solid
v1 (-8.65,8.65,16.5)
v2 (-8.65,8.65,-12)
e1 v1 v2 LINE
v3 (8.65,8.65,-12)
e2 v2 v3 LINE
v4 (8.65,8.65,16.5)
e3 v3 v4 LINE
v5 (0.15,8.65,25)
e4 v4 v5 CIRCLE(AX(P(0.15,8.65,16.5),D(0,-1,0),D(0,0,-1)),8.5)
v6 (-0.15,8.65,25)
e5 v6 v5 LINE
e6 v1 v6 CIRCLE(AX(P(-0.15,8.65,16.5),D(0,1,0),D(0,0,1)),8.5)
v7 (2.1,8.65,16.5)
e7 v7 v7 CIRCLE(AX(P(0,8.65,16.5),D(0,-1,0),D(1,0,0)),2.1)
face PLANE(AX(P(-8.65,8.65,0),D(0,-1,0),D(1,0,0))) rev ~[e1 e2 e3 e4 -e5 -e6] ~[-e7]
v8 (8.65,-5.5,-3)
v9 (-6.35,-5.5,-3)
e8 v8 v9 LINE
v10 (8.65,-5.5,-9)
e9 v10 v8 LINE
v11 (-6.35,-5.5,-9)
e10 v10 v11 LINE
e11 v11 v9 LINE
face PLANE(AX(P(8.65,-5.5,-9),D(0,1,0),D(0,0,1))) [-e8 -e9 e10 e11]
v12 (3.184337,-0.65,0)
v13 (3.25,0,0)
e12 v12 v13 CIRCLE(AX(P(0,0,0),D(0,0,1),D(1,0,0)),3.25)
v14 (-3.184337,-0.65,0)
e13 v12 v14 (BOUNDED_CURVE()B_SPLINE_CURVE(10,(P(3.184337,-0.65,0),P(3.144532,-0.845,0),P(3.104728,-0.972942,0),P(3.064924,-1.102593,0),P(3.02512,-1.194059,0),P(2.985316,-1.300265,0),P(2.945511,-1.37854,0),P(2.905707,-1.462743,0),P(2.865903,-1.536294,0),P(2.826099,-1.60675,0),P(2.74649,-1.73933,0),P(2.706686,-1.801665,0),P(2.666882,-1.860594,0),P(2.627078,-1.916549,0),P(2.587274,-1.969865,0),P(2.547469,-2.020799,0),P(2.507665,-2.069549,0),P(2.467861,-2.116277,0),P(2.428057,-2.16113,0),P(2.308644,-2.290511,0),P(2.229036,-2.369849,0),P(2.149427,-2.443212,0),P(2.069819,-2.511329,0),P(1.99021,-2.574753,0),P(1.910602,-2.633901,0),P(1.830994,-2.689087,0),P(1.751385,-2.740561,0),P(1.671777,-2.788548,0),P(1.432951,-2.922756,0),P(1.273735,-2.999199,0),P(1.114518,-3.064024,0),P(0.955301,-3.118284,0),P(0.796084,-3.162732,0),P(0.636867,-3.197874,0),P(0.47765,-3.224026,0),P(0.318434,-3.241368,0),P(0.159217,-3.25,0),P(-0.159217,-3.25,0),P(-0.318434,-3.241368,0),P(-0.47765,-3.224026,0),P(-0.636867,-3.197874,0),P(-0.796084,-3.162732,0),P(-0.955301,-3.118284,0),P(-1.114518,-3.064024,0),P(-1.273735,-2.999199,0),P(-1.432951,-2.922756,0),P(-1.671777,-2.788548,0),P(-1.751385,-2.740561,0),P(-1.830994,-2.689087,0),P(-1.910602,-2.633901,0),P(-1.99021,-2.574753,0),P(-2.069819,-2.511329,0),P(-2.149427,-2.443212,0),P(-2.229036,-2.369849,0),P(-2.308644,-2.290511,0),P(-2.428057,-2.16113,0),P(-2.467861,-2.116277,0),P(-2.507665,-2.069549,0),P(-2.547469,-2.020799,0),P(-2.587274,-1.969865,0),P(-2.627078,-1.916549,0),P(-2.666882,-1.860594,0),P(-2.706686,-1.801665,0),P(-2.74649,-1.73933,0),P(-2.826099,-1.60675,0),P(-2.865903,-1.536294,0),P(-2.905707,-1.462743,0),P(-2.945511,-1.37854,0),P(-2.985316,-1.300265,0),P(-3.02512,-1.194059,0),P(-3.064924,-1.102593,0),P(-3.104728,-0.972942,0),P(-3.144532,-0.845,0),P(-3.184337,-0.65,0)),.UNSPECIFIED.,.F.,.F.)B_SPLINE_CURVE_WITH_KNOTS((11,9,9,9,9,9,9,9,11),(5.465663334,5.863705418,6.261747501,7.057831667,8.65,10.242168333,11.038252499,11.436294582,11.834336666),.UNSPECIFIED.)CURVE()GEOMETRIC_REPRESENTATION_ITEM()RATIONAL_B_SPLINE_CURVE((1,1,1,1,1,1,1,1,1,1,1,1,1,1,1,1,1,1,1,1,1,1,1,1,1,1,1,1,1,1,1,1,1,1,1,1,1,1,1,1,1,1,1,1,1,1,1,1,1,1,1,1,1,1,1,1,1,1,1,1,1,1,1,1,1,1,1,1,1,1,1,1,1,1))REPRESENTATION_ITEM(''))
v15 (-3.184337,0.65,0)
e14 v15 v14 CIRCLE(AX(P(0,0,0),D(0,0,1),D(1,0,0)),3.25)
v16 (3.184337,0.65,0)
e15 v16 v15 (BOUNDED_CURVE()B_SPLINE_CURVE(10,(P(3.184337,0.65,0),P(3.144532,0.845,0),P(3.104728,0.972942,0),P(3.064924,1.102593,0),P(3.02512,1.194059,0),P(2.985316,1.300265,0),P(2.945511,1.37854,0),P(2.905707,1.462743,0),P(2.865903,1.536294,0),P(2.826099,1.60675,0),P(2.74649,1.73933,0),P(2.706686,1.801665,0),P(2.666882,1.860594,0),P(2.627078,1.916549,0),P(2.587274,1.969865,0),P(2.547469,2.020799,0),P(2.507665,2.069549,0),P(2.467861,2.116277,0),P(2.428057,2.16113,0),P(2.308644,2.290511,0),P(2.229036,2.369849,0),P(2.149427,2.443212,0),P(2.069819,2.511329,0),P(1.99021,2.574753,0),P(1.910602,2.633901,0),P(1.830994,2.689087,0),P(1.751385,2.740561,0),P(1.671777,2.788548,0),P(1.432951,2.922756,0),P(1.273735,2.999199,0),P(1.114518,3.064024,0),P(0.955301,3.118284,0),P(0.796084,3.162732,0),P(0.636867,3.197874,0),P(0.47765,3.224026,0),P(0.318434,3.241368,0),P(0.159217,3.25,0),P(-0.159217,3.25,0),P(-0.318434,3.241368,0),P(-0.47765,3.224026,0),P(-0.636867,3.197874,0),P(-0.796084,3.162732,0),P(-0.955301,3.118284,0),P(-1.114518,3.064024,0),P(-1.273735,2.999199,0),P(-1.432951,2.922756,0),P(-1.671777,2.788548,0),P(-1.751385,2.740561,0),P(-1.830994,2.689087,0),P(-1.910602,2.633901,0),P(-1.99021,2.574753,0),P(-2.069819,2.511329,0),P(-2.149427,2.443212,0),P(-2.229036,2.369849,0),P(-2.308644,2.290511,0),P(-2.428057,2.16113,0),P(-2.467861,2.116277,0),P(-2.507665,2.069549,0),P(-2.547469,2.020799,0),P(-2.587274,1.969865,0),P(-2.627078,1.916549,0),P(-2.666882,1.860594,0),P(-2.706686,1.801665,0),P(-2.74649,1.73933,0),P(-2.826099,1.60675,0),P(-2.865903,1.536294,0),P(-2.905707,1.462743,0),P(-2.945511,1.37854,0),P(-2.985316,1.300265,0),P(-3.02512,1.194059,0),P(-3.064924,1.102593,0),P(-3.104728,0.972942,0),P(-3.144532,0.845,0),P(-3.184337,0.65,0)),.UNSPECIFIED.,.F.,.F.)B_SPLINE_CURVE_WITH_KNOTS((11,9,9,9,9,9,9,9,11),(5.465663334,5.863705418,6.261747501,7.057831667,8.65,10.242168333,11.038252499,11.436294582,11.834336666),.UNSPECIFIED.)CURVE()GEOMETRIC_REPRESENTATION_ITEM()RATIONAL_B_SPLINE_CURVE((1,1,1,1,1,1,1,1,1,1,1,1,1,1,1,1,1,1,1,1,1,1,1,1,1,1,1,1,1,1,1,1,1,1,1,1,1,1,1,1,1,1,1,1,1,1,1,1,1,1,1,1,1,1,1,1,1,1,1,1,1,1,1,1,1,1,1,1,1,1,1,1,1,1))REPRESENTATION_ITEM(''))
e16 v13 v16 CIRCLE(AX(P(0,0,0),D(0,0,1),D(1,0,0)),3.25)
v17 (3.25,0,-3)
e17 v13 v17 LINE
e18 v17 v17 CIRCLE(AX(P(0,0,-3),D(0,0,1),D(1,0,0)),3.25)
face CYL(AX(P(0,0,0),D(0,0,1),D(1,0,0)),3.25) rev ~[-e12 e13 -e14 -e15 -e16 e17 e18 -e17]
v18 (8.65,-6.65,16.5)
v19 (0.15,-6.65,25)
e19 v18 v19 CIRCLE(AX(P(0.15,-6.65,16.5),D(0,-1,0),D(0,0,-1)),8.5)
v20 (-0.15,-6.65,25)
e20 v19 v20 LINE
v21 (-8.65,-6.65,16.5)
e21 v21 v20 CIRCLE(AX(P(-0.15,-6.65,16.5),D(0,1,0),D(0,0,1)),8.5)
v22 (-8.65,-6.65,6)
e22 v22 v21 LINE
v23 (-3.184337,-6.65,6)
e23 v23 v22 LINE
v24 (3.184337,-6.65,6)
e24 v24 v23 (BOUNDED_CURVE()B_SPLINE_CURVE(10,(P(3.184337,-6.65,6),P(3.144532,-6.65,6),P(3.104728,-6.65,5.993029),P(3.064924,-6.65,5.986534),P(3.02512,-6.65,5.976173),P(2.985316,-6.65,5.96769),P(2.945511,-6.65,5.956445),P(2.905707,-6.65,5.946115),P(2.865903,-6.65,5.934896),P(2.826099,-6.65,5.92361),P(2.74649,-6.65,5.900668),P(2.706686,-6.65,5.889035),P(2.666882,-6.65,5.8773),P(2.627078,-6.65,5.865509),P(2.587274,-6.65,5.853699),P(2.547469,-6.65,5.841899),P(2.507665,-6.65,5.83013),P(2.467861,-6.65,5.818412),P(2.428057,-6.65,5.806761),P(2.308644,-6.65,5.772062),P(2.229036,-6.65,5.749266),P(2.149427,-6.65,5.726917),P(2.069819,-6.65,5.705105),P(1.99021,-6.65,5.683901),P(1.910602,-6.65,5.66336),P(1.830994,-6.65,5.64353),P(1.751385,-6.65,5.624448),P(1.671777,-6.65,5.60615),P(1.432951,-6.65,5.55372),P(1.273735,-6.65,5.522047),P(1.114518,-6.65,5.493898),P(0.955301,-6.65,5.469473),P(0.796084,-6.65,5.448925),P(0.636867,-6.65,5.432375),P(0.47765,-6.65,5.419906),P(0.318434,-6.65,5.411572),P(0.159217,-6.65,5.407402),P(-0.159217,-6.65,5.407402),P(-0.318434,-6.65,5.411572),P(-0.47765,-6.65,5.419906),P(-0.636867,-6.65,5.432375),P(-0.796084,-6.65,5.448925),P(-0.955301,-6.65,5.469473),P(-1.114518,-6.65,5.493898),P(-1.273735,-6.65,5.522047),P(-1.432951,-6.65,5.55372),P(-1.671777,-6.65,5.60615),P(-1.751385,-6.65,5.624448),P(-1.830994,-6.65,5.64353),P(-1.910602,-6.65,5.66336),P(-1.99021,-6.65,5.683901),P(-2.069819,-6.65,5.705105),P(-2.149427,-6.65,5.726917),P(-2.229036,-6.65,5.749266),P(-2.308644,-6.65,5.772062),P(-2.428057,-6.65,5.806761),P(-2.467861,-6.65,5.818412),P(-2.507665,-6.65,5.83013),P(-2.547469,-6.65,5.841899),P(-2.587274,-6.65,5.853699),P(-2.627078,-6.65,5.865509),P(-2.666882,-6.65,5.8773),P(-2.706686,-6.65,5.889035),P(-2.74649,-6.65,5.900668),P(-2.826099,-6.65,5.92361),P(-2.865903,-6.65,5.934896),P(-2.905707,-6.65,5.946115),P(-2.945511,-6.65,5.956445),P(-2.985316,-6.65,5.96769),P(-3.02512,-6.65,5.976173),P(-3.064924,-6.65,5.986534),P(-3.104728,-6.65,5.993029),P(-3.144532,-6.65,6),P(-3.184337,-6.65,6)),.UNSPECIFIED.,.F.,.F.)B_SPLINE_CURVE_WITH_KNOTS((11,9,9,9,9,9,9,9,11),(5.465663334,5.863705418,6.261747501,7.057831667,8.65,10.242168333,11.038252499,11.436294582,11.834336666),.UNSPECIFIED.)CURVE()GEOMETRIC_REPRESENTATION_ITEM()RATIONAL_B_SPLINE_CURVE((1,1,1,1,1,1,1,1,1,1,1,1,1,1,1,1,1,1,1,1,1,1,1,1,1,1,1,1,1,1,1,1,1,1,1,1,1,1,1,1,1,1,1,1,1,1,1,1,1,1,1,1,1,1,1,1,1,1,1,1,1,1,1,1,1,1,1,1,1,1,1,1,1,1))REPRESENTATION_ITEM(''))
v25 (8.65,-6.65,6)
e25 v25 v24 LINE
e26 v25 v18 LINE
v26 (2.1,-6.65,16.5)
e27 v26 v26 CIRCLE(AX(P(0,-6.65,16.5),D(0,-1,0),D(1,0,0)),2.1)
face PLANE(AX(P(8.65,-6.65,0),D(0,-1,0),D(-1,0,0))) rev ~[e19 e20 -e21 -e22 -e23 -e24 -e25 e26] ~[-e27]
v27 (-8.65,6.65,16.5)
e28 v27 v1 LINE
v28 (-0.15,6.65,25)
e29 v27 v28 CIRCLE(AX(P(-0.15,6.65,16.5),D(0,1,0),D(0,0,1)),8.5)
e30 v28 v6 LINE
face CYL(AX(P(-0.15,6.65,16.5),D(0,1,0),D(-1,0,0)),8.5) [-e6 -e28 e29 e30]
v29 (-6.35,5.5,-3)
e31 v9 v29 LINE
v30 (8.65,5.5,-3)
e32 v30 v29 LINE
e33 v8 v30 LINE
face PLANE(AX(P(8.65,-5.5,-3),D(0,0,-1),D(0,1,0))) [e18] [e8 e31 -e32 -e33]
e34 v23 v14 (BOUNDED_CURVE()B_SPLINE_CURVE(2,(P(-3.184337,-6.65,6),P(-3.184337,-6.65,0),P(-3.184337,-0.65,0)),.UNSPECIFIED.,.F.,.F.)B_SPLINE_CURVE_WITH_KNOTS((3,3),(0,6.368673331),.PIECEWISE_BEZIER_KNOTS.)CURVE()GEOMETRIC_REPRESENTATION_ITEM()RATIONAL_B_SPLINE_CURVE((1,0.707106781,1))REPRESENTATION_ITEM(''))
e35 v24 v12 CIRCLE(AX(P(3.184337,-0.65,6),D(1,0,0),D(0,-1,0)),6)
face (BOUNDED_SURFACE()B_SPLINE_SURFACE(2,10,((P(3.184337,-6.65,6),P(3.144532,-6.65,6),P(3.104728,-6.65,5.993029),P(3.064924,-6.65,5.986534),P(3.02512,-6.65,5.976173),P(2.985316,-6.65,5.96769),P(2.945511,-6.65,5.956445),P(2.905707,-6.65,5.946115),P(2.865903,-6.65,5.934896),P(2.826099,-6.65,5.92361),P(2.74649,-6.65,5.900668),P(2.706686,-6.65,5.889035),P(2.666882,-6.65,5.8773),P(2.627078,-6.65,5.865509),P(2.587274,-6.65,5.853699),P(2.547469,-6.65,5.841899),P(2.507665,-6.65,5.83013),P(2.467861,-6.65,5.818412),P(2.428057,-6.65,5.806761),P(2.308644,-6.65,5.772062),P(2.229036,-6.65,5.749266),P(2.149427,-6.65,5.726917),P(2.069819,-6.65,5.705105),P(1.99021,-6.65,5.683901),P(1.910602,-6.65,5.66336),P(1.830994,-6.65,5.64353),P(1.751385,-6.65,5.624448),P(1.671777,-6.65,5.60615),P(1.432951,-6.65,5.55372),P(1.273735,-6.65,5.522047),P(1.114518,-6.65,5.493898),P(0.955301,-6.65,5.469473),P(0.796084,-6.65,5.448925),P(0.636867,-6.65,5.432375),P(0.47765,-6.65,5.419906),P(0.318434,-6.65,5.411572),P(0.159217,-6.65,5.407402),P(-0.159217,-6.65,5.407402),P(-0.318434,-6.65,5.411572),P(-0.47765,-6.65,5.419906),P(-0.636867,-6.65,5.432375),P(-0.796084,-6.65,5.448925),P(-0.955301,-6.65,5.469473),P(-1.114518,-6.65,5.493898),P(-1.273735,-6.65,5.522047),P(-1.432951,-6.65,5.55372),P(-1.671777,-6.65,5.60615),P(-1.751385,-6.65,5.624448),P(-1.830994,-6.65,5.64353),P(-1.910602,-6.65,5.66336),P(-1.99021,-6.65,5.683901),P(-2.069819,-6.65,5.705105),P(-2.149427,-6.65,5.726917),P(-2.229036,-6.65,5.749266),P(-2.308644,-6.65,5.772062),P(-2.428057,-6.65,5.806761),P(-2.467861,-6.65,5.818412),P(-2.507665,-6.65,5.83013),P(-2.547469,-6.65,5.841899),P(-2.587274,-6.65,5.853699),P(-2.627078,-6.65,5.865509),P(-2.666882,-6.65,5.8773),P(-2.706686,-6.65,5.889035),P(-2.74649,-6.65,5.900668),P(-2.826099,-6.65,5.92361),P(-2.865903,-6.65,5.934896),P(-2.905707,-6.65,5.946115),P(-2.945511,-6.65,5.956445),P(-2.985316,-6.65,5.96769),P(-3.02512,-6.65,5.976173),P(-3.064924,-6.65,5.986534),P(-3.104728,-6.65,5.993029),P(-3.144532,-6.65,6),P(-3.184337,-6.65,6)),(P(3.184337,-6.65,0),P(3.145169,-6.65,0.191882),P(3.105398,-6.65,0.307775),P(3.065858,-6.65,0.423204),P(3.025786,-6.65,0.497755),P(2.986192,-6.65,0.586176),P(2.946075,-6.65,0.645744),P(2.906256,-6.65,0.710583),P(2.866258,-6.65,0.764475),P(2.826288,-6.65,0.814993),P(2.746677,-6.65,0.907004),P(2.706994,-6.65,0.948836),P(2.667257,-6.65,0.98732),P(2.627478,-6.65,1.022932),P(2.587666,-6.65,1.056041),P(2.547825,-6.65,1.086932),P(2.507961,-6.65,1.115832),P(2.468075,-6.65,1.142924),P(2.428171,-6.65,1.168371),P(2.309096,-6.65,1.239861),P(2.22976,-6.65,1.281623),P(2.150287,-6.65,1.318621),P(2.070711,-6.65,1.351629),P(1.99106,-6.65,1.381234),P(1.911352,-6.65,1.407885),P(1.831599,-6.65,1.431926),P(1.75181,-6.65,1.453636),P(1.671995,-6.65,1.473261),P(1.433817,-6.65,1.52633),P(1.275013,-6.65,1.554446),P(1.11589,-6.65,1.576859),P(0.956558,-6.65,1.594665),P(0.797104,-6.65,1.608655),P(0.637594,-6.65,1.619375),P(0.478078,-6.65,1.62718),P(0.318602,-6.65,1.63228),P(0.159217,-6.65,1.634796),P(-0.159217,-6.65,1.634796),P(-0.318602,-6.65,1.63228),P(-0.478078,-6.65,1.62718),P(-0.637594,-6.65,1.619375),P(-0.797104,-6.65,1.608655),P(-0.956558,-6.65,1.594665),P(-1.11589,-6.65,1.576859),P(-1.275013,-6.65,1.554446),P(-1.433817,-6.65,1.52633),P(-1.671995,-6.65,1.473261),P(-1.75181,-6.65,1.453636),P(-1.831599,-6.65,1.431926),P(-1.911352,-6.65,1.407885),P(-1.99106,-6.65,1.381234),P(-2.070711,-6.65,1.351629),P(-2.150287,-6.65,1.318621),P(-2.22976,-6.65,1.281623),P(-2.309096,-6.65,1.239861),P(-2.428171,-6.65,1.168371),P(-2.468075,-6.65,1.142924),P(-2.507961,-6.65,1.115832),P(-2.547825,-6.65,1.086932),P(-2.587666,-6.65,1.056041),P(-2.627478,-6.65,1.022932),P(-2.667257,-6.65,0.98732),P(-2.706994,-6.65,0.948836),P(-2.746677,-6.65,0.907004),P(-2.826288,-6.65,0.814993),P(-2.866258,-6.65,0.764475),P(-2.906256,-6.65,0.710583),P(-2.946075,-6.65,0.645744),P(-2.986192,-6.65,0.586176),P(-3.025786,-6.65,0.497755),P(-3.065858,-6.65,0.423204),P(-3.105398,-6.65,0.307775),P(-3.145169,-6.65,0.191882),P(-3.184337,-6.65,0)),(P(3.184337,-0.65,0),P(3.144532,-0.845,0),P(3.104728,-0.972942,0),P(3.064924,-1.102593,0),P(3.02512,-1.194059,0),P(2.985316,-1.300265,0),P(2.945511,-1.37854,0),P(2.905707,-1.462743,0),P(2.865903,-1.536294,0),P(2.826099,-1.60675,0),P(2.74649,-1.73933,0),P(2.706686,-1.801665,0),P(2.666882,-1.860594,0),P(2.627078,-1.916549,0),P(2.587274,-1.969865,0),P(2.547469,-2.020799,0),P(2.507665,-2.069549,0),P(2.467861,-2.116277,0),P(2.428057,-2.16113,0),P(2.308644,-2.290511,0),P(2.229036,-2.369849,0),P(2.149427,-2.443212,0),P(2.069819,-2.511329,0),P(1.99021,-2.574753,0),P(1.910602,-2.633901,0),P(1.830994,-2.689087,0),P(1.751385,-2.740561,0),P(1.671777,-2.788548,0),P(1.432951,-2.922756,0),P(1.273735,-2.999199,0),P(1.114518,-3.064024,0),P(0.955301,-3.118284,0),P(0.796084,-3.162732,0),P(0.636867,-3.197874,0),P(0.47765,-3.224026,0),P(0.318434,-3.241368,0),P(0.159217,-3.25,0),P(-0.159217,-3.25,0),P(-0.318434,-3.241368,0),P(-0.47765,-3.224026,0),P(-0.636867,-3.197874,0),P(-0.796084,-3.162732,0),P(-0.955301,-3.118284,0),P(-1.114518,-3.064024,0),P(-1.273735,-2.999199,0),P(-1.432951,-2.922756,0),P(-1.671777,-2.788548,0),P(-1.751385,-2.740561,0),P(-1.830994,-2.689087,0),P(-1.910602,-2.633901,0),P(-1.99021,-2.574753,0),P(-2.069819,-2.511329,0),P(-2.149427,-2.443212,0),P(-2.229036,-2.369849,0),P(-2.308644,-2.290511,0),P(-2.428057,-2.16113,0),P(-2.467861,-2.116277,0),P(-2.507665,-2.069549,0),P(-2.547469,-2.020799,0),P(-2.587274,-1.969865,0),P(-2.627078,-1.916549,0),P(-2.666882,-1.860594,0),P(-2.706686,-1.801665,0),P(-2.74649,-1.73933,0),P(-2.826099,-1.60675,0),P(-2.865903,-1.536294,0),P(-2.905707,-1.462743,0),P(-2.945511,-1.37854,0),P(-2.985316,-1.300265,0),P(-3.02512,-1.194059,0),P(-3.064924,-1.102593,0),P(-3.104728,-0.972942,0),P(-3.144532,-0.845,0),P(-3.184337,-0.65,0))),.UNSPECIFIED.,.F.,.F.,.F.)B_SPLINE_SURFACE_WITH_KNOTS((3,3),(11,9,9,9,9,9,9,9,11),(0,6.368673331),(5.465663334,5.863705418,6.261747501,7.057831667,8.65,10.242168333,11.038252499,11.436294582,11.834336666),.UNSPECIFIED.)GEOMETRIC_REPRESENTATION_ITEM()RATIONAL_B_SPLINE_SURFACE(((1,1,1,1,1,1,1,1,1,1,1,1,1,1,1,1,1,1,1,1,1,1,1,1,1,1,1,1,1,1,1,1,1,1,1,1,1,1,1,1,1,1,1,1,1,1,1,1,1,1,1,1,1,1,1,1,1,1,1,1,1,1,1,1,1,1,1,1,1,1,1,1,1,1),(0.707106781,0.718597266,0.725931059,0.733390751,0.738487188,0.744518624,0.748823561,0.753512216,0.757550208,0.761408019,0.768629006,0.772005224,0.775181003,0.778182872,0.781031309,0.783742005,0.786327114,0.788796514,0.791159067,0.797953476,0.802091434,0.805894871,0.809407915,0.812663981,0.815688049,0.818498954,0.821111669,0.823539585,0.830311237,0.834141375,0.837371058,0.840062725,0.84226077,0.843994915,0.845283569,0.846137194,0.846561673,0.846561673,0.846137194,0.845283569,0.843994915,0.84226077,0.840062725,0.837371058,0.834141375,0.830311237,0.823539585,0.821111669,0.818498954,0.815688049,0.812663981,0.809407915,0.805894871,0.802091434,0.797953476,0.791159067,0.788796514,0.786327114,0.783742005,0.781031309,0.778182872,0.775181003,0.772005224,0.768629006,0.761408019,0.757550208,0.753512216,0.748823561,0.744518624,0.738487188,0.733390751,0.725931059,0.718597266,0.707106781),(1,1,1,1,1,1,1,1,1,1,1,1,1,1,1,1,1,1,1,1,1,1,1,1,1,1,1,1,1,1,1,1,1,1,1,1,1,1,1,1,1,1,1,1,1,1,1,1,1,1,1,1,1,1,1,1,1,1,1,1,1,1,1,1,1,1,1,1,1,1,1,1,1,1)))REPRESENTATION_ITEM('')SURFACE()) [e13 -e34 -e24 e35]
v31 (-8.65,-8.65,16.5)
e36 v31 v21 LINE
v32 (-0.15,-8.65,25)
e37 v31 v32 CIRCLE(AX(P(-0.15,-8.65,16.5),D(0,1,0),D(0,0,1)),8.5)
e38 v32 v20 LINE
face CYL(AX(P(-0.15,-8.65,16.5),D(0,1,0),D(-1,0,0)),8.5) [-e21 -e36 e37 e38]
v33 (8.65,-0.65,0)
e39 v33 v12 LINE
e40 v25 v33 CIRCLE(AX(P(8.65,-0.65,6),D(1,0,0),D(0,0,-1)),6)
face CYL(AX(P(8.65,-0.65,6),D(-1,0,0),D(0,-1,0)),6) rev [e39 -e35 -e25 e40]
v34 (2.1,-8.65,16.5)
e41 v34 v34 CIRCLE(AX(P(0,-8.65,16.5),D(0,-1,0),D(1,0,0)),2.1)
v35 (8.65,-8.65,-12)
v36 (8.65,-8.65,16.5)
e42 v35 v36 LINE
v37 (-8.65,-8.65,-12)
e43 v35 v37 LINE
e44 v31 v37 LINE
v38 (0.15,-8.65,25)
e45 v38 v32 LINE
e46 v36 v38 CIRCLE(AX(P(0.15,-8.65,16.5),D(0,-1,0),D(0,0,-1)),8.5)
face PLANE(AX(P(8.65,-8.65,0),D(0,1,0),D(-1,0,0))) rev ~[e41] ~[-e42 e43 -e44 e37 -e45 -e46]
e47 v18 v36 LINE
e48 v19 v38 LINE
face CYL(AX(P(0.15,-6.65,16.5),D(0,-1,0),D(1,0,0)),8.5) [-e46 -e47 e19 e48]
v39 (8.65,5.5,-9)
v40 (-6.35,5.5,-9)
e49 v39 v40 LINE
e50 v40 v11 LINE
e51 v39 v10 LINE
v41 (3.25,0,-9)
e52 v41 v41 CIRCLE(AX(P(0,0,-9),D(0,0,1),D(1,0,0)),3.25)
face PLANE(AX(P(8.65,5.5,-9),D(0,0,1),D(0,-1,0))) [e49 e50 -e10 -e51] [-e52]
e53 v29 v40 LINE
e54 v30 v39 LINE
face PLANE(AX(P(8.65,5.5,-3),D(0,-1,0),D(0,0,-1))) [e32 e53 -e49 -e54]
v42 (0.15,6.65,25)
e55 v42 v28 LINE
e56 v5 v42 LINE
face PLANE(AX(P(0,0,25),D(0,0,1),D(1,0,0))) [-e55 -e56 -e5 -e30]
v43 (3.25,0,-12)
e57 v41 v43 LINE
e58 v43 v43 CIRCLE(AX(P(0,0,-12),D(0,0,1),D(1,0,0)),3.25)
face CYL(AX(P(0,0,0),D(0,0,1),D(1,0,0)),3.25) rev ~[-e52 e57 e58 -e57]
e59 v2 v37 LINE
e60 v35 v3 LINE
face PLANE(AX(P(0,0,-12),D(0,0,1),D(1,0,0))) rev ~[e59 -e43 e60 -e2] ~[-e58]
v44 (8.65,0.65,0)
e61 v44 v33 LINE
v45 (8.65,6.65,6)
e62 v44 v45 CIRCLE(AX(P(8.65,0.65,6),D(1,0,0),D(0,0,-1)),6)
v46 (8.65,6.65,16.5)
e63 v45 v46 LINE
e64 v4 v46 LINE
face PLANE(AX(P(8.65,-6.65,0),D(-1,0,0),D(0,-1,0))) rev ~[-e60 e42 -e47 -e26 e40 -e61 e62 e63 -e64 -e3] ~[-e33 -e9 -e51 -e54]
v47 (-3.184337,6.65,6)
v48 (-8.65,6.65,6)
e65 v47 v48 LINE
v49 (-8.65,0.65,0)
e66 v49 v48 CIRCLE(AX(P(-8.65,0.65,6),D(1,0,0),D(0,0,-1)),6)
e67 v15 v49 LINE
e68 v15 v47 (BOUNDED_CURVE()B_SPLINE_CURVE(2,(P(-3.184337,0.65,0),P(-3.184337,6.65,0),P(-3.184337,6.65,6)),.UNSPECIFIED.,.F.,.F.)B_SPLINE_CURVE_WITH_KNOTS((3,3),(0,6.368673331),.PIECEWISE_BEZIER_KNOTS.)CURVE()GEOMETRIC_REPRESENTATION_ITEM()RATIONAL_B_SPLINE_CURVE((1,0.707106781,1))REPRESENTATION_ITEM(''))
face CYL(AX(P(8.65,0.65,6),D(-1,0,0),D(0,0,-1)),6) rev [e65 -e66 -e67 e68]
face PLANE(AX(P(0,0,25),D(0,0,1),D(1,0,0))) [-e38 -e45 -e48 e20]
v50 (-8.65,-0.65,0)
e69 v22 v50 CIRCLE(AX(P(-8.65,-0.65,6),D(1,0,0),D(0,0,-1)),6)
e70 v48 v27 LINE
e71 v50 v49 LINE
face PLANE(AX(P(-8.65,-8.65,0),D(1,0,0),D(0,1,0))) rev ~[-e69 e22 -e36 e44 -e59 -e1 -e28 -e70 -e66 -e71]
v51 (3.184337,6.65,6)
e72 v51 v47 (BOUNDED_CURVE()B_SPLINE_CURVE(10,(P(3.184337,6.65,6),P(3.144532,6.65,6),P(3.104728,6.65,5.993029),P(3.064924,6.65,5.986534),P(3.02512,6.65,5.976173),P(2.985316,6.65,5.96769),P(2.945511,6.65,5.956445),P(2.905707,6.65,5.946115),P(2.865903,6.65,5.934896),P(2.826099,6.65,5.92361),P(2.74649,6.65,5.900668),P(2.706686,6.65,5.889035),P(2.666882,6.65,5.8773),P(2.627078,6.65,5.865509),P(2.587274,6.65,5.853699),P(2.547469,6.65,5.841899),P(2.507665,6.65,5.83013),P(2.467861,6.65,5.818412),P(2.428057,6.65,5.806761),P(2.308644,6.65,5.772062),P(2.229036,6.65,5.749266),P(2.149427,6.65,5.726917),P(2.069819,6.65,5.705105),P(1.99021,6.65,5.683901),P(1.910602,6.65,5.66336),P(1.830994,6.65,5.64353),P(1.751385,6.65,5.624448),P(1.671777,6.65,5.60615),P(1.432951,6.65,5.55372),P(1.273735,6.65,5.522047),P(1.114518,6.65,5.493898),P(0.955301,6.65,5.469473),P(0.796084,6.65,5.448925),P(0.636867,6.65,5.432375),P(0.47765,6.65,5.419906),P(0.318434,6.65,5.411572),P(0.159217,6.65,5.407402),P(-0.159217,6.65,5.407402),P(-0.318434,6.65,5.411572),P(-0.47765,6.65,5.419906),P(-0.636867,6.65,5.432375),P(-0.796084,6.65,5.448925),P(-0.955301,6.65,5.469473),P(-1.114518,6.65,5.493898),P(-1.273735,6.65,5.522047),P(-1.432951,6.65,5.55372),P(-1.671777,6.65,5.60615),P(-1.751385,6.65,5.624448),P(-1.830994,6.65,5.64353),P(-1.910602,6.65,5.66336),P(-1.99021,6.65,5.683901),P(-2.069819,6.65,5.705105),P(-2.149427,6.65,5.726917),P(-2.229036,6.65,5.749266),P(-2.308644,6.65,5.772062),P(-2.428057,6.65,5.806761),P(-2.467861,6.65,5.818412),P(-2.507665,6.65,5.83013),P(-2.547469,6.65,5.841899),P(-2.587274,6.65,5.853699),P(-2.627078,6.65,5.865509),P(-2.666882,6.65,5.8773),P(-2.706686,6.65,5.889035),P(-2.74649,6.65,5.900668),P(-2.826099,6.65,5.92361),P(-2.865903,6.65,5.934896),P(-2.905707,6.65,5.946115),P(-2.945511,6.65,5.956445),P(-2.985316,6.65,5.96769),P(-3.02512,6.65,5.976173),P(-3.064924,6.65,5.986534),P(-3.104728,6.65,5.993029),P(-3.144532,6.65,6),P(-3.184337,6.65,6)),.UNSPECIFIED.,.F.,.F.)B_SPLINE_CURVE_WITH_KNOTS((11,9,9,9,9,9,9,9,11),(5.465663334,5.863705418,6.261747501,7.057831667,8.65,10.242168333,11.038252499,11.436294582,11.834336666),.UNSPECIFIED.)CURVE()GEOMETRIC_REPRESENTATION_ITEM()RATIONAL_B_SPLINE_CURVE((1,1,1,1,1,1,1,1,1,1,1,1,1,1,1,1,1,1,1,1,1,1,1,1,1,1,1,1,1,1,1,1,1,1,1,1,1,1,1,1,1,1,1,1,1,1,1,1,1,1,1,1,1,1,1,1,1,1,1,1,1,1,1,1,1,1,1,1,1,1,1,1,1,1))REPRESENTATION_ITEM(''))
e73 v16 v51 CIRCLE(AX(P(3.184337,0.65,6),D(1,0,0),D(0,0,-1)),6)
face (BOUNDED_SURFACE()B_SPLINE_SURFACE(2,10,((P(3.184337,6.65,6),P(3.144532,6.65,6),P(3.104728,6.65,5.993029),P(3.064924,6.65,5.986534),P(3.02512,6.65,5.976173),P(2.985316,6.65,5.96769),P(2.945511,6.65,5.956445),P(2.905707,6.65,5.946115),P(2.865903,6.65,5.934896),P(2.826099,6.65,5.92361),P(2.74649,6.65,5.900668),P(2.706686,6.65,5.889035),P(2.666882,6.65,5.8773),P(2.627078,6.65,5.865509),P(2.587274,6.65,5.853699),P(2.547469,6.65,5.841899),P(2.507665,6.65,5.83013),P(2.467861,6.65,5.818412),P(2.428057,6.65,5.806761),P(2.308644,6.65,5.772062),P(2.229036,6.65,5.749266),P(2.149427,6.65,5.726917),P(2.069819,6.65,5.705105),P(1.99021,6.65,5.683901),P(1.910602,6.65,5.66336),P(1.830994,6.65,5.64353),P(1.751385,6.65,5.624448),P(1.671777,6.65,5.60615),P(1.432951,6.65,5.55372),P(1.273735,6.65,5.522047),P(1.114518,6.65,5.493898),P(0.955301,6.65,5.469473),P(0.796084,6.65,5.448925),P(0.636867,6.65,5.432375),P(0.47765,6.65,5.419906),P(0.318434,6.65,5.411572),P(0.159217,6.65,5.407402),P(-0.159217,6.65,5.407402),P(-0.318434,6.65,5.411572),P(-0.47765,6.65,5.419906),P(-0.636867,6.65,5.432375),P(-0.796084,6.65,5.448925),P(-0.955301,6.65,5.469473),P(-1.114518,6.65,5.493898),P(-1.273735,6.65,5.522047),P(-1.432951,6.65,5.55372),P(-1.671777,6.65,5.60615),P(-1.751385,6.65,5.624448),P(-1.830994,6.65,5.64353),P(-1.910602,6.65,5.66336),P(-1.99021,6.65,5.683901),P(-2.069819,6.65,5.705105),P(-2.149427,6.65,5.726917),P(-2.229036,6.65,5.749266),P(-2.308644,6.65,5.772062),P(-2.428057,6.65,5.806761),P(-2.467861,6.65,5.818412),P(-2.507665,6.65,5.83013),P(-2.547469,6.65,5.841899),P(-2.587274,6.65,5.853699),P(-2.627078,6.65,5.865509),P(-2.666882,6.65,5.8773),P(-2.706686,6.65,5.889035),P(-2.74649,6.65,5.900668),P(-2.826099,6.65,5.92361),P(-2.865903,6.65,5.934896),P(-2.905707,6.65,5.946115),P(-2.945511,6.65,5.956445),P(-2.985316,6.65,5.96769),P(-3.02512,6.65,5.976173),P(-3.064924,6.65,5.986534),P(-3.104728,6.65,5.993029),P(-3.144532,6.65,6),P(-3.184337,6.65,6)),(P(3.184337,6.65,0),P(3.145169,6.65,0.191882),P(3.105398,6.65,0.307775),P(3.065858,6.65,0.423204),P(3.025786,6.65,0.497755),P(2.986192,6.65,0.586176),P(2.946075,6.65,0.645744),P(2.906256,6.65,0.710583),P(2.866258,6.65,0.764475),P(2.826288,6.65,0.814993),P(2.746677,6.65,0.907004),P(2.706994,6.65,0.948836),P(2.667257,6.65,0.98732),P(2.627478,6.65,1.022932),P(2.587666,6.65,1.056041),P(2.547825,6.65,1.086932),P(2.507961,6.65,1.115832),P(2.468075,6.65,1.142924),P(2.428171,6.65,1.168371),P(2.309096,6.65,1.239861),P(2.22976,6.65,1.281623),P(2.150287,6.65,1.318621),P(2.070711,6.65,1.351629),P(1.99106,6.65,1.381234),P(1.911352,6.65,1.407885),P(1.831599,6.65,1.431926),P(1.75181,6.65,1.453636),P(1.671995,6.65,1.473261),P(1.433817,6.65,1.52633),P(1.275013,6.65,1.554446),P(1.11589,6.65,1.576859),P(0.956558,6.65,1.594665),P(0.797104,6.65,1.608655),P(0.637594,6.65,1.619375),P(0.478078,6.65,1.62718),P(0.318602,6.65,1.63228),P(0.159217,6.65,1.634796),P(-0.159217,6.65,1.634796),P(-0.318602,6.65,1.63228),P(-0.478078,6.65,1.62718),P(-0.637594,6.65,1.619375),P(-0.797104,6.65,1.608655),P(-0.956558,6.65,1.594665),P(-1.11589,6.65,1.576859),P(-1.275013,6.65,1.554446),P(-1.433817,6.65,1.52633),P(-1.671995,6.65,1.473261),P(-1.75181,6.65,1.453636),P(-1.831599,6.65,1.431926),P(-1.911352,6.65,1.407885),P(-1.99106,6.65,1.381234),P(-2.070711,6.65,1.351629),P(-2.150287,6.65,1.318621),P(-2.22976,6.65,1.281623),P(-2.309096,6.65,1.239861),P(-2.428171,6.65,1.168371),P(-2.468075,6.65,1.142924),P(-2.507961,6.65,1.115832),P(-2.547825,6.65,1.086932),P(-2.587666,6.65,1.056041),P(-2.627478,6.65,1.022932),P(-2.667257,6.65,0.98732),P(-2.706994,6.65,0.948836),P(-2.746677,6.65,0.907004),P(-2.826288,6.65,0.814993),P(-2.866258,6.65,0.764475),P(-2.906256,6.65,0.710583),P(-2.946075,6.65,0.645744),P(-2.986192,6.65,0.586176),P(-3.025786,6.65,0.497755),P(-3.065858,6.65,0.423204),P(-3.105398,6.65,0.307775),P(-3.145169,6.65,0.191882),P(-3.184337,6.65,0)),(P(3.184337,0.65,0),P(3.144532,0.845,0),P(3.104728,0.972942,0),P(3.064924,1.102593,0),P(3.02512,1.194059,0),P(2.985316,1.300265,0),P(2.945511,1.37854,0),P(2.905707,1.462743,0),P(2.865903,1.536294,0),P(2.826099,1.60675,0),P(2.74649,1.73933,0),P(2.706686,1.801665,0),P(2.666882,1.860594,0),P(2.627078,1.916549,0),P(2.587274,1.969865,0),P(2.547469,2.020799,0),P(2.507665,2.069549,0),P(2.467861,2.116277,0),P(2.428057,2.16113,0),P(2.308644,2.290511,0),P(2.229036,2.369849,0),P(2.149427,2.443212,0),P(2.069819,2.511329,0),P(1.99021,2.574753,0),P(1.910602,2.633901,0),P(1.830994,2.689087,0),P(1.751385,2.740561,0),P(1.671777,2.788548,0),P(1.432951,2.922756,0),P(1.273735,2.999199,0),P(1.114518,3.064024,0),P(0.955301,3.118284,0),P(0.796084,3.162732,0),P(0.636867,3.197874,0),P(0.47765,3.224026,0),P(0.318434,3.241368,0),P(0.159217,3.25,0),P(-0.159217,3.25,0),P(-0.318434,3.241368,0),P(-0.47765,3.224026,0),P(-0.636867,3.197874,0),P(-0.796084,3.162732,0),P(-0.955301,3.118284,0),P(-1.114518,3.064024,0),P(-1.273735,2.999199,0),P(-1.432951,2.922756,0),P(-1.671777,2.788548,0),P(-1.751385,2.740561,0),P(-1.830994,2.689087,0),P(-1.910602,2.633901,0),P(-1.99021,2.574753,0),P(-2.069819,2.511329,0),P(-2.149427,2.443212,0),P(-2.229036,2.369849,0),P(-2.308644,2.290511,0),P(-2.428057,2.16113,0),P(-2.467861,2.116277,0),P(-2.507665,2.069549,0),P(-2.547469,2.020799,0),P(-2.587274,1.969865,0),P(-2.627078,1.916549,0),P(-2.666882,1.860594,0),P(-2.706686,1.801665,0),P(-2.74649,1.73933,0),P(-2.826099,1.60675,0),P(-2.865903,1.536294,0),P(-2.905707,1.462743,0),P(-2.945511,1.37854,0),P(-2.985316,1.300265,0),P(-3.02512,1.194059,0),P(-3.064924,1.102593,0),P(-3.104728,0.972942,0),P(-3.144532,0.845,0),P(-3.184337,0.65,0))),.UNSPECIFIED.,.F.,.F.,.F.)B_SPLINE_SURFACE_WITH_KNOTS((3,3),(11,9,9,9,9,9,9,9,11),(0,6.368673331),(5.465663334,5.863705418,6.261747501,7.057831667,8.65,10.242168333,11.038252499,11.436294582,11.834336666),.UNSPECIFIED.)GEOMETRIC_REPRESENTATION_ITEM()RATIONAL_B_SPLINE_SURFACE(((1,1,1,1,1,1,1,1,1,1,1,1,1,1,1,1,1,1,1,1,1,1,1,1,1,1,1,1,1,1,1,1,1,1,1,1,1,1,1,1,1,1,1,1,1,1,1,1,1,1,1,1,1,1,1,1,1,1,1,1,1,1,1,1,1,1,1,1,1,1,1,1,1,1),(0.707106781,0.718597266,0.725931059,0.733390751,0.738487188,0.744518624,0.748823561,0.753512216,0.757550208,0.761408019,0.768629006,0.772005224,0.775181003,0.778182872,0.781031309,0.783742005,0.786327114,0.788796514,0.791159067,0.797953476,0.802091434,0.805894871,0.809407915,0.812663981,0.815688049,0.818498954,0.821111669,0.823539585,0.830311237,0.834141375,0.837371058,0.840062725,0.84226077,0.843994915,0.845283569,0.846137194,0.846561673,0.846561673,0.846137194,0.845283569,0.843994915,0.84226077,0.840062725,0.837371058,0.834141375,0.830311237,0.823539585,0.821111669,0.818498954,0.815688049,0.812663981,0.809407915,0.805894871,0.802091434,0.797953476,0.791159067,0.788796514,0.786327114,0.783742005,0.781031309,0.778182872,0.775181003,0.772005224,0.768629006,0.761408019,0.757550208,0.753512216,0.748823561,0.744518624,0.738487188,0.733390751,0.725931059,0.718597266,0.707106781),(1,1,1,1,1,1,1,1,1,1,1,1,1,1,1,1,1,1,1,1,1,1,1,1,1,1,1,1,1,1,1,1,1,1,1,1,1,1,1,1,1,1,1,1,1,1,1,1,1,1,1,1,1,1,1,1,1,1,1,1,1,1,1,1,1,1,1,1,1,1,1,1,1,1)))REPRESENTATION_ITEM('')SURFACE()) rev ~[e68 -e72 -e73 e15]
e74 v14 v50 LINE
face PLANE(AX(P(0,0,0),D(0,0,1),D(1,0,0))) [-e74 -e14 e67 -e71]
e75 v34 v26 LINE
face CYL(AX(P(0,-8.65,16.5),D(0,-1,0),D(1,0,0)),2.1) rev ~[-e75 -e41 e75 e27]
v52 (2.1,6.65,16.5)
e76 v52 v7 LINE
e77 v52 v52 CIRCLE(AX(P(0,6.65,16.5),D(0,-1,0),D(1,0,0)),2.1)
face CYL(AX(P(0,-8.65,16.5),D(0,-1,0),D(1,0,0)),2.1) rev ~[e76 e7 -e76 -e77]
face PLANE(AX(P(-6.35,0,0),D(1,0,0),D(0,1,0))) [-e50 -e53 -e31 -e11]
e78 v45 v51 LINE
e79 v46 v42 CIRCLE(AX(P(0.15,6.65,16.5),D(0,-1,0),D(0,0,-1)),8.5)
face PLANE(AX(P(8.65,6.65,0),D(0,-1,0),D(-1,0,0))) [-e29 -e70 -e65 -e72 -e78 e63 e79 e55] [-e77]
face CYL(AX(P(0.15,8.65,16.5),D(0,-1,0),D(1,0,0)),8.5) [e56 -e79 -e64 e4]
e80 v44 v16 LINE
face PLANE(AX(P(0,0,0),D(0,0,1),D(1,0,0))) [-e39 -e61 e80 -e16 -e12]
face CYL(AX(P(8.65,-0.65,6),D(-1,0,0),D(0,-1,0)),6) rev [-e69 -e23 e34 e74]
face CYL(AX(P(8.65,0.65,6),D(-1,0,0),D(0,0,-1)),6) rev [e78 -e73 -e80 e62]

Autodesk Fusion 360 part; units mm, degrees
sketch "Sketch1" plane through (0, 0, 0) normal (0, 0, 1) x (1, 0, 0)
  line L0 (8.65, -8.65) -> (-8.65, -8.65)
  line L1 (-8.65, -8.65) -> (-8.65, 8.65)
  line L2 (-8.65, 8.65) -> (8.65, 8.65)
  line L3 (8.65, 8.65) -> (8.65, -8.65)
  line L4 (8.65, -8.65) -> (-8.65, 8.65) construction
  line L5 (-8.65, -8.65) -> (8.65, 8.65) construction
  circle A0 centre (0, 0) radius 3.25
  line L6 (-8.65, 8.65) -> (8.65, 8.65)
  line L7 (8.65, 8.65) -> (8.65, 6.65)
  line L8 (8.65, 6.65) -> (-8.65, 6.65)
  line L9 (-8.65, 6.65) -> (-8.65, 8.65)
  line L10 (-8.65, -8.65) -> (8.65, -8.65)
  line L11 (8.65, -8.65) -> (8.65, -6.65)
  line L12 (8.65, -6.65) -> (-8.65, -6.65)
  line L13 (-8.65, -6.65) -> (-8.65, -8.65)
  dimension "d4" = 6.5
  dimension "d10" = 2
  dimension "d11" = 2
  dimension "d12" = 13.3
extrude "Extrude2" add sketch "Sketch1" against normal blind 12
extrude "Extrude3" add sketch "Sketch1" along normal blind 25 contours L0 L1 L3 L10 L11 L12 L13 | L1 L2 L3 L6 L7 L8 L9
fillet "Fillet1" radius 8.5 4 edges at (8.65, -7.65, 25) (-8.65, -7.65, 25) (-8.65, 7.65, 25) (8.65, 7.65, 25)
sketch "Sketch3" plane through (0, -8.65, 0) normal (0, -1, 0) x (1, 0, 0)
  arc A0 (-0.15, 25) -> (-8.65, 16.5) centre (-0.15, 16.5) ccw
  line L0 (-8.65, 16.5) -> (-8.65, -12)
  line L1 (-8.65, -12) -> (8.65, -12)
  line L2 (8.65, -12) -> (8.65, 16.5)
  arc A1 (8.65, 16.5) -> (0.15, 25) centre (0.15, 16.5) ccw
  line L3 (0.15, 25) -> (-0.15, 25)
  line L4 (-8.65, 16.5) -> (8.65, 16.5) construction
  line L5 (0, 0) -> (0, 16.5) construction
  circle A2 centre (0, 16.5) radius 2.1
  line L6 (8.65, 0) -> (-8.65, 0)
  dimension "d19" = 4.2
  dimension "d21" = 11.5
extrude "Extrude4" cut sketch "Sketch3" against normal through all contours A2
sketch "Sketch7" plane through (8.65, 0, 0) normal (1, 0, 0) x (0, 1, 0)
  line L0 (8.65, 16.5) -> (6.65, 16.5)
  line L1 (6.65, 16.5) -> (6.65, 0)
  line L2 (6.65, 0) -> (-6.65, 0)
  line L3 (-6.65, 0) -> (-6.65, 16.5)
  line L4 (-6.65, 16.5) -> (-8.65, 16.5)
  line L5 (-8.65, 16.5) -> (-8.65, -12)
  line L6 (-8.65, -12) -> (8.65, -12)
  line L7 (8.65, -12) -> (8.65, 16.5)
  line L8 (0, 0) -> (8.65, 0) construction
  line L9 (8.65, 0) -> (-8.65, -12) construction
  line L10 (5.5, -9) -> (-5.5, -9)
  line L11 (-5.5, -9) -> (-5.5, -3)
  line L12 (-5.5, -3) -> (5.5, -3)
  line L13 (5.5, -3) -> (5.5, -9)
  line L14 (5.5, -9) -> (-5.5, -3) construction
  line L15 (-5.5, -9) -> (5.5, -3) construction
  point P0 (0, -6)
  dimension "d27" = 11
  dimension "d28" = 6
extrude "Extrude5" cut sketch "Sketch7" against normal blind 15 contours L10 L11 L12 L13
fillet "Fillet2" radius 6 2 edges at (0, 6.65, 0) (0, -6.65, 0)
